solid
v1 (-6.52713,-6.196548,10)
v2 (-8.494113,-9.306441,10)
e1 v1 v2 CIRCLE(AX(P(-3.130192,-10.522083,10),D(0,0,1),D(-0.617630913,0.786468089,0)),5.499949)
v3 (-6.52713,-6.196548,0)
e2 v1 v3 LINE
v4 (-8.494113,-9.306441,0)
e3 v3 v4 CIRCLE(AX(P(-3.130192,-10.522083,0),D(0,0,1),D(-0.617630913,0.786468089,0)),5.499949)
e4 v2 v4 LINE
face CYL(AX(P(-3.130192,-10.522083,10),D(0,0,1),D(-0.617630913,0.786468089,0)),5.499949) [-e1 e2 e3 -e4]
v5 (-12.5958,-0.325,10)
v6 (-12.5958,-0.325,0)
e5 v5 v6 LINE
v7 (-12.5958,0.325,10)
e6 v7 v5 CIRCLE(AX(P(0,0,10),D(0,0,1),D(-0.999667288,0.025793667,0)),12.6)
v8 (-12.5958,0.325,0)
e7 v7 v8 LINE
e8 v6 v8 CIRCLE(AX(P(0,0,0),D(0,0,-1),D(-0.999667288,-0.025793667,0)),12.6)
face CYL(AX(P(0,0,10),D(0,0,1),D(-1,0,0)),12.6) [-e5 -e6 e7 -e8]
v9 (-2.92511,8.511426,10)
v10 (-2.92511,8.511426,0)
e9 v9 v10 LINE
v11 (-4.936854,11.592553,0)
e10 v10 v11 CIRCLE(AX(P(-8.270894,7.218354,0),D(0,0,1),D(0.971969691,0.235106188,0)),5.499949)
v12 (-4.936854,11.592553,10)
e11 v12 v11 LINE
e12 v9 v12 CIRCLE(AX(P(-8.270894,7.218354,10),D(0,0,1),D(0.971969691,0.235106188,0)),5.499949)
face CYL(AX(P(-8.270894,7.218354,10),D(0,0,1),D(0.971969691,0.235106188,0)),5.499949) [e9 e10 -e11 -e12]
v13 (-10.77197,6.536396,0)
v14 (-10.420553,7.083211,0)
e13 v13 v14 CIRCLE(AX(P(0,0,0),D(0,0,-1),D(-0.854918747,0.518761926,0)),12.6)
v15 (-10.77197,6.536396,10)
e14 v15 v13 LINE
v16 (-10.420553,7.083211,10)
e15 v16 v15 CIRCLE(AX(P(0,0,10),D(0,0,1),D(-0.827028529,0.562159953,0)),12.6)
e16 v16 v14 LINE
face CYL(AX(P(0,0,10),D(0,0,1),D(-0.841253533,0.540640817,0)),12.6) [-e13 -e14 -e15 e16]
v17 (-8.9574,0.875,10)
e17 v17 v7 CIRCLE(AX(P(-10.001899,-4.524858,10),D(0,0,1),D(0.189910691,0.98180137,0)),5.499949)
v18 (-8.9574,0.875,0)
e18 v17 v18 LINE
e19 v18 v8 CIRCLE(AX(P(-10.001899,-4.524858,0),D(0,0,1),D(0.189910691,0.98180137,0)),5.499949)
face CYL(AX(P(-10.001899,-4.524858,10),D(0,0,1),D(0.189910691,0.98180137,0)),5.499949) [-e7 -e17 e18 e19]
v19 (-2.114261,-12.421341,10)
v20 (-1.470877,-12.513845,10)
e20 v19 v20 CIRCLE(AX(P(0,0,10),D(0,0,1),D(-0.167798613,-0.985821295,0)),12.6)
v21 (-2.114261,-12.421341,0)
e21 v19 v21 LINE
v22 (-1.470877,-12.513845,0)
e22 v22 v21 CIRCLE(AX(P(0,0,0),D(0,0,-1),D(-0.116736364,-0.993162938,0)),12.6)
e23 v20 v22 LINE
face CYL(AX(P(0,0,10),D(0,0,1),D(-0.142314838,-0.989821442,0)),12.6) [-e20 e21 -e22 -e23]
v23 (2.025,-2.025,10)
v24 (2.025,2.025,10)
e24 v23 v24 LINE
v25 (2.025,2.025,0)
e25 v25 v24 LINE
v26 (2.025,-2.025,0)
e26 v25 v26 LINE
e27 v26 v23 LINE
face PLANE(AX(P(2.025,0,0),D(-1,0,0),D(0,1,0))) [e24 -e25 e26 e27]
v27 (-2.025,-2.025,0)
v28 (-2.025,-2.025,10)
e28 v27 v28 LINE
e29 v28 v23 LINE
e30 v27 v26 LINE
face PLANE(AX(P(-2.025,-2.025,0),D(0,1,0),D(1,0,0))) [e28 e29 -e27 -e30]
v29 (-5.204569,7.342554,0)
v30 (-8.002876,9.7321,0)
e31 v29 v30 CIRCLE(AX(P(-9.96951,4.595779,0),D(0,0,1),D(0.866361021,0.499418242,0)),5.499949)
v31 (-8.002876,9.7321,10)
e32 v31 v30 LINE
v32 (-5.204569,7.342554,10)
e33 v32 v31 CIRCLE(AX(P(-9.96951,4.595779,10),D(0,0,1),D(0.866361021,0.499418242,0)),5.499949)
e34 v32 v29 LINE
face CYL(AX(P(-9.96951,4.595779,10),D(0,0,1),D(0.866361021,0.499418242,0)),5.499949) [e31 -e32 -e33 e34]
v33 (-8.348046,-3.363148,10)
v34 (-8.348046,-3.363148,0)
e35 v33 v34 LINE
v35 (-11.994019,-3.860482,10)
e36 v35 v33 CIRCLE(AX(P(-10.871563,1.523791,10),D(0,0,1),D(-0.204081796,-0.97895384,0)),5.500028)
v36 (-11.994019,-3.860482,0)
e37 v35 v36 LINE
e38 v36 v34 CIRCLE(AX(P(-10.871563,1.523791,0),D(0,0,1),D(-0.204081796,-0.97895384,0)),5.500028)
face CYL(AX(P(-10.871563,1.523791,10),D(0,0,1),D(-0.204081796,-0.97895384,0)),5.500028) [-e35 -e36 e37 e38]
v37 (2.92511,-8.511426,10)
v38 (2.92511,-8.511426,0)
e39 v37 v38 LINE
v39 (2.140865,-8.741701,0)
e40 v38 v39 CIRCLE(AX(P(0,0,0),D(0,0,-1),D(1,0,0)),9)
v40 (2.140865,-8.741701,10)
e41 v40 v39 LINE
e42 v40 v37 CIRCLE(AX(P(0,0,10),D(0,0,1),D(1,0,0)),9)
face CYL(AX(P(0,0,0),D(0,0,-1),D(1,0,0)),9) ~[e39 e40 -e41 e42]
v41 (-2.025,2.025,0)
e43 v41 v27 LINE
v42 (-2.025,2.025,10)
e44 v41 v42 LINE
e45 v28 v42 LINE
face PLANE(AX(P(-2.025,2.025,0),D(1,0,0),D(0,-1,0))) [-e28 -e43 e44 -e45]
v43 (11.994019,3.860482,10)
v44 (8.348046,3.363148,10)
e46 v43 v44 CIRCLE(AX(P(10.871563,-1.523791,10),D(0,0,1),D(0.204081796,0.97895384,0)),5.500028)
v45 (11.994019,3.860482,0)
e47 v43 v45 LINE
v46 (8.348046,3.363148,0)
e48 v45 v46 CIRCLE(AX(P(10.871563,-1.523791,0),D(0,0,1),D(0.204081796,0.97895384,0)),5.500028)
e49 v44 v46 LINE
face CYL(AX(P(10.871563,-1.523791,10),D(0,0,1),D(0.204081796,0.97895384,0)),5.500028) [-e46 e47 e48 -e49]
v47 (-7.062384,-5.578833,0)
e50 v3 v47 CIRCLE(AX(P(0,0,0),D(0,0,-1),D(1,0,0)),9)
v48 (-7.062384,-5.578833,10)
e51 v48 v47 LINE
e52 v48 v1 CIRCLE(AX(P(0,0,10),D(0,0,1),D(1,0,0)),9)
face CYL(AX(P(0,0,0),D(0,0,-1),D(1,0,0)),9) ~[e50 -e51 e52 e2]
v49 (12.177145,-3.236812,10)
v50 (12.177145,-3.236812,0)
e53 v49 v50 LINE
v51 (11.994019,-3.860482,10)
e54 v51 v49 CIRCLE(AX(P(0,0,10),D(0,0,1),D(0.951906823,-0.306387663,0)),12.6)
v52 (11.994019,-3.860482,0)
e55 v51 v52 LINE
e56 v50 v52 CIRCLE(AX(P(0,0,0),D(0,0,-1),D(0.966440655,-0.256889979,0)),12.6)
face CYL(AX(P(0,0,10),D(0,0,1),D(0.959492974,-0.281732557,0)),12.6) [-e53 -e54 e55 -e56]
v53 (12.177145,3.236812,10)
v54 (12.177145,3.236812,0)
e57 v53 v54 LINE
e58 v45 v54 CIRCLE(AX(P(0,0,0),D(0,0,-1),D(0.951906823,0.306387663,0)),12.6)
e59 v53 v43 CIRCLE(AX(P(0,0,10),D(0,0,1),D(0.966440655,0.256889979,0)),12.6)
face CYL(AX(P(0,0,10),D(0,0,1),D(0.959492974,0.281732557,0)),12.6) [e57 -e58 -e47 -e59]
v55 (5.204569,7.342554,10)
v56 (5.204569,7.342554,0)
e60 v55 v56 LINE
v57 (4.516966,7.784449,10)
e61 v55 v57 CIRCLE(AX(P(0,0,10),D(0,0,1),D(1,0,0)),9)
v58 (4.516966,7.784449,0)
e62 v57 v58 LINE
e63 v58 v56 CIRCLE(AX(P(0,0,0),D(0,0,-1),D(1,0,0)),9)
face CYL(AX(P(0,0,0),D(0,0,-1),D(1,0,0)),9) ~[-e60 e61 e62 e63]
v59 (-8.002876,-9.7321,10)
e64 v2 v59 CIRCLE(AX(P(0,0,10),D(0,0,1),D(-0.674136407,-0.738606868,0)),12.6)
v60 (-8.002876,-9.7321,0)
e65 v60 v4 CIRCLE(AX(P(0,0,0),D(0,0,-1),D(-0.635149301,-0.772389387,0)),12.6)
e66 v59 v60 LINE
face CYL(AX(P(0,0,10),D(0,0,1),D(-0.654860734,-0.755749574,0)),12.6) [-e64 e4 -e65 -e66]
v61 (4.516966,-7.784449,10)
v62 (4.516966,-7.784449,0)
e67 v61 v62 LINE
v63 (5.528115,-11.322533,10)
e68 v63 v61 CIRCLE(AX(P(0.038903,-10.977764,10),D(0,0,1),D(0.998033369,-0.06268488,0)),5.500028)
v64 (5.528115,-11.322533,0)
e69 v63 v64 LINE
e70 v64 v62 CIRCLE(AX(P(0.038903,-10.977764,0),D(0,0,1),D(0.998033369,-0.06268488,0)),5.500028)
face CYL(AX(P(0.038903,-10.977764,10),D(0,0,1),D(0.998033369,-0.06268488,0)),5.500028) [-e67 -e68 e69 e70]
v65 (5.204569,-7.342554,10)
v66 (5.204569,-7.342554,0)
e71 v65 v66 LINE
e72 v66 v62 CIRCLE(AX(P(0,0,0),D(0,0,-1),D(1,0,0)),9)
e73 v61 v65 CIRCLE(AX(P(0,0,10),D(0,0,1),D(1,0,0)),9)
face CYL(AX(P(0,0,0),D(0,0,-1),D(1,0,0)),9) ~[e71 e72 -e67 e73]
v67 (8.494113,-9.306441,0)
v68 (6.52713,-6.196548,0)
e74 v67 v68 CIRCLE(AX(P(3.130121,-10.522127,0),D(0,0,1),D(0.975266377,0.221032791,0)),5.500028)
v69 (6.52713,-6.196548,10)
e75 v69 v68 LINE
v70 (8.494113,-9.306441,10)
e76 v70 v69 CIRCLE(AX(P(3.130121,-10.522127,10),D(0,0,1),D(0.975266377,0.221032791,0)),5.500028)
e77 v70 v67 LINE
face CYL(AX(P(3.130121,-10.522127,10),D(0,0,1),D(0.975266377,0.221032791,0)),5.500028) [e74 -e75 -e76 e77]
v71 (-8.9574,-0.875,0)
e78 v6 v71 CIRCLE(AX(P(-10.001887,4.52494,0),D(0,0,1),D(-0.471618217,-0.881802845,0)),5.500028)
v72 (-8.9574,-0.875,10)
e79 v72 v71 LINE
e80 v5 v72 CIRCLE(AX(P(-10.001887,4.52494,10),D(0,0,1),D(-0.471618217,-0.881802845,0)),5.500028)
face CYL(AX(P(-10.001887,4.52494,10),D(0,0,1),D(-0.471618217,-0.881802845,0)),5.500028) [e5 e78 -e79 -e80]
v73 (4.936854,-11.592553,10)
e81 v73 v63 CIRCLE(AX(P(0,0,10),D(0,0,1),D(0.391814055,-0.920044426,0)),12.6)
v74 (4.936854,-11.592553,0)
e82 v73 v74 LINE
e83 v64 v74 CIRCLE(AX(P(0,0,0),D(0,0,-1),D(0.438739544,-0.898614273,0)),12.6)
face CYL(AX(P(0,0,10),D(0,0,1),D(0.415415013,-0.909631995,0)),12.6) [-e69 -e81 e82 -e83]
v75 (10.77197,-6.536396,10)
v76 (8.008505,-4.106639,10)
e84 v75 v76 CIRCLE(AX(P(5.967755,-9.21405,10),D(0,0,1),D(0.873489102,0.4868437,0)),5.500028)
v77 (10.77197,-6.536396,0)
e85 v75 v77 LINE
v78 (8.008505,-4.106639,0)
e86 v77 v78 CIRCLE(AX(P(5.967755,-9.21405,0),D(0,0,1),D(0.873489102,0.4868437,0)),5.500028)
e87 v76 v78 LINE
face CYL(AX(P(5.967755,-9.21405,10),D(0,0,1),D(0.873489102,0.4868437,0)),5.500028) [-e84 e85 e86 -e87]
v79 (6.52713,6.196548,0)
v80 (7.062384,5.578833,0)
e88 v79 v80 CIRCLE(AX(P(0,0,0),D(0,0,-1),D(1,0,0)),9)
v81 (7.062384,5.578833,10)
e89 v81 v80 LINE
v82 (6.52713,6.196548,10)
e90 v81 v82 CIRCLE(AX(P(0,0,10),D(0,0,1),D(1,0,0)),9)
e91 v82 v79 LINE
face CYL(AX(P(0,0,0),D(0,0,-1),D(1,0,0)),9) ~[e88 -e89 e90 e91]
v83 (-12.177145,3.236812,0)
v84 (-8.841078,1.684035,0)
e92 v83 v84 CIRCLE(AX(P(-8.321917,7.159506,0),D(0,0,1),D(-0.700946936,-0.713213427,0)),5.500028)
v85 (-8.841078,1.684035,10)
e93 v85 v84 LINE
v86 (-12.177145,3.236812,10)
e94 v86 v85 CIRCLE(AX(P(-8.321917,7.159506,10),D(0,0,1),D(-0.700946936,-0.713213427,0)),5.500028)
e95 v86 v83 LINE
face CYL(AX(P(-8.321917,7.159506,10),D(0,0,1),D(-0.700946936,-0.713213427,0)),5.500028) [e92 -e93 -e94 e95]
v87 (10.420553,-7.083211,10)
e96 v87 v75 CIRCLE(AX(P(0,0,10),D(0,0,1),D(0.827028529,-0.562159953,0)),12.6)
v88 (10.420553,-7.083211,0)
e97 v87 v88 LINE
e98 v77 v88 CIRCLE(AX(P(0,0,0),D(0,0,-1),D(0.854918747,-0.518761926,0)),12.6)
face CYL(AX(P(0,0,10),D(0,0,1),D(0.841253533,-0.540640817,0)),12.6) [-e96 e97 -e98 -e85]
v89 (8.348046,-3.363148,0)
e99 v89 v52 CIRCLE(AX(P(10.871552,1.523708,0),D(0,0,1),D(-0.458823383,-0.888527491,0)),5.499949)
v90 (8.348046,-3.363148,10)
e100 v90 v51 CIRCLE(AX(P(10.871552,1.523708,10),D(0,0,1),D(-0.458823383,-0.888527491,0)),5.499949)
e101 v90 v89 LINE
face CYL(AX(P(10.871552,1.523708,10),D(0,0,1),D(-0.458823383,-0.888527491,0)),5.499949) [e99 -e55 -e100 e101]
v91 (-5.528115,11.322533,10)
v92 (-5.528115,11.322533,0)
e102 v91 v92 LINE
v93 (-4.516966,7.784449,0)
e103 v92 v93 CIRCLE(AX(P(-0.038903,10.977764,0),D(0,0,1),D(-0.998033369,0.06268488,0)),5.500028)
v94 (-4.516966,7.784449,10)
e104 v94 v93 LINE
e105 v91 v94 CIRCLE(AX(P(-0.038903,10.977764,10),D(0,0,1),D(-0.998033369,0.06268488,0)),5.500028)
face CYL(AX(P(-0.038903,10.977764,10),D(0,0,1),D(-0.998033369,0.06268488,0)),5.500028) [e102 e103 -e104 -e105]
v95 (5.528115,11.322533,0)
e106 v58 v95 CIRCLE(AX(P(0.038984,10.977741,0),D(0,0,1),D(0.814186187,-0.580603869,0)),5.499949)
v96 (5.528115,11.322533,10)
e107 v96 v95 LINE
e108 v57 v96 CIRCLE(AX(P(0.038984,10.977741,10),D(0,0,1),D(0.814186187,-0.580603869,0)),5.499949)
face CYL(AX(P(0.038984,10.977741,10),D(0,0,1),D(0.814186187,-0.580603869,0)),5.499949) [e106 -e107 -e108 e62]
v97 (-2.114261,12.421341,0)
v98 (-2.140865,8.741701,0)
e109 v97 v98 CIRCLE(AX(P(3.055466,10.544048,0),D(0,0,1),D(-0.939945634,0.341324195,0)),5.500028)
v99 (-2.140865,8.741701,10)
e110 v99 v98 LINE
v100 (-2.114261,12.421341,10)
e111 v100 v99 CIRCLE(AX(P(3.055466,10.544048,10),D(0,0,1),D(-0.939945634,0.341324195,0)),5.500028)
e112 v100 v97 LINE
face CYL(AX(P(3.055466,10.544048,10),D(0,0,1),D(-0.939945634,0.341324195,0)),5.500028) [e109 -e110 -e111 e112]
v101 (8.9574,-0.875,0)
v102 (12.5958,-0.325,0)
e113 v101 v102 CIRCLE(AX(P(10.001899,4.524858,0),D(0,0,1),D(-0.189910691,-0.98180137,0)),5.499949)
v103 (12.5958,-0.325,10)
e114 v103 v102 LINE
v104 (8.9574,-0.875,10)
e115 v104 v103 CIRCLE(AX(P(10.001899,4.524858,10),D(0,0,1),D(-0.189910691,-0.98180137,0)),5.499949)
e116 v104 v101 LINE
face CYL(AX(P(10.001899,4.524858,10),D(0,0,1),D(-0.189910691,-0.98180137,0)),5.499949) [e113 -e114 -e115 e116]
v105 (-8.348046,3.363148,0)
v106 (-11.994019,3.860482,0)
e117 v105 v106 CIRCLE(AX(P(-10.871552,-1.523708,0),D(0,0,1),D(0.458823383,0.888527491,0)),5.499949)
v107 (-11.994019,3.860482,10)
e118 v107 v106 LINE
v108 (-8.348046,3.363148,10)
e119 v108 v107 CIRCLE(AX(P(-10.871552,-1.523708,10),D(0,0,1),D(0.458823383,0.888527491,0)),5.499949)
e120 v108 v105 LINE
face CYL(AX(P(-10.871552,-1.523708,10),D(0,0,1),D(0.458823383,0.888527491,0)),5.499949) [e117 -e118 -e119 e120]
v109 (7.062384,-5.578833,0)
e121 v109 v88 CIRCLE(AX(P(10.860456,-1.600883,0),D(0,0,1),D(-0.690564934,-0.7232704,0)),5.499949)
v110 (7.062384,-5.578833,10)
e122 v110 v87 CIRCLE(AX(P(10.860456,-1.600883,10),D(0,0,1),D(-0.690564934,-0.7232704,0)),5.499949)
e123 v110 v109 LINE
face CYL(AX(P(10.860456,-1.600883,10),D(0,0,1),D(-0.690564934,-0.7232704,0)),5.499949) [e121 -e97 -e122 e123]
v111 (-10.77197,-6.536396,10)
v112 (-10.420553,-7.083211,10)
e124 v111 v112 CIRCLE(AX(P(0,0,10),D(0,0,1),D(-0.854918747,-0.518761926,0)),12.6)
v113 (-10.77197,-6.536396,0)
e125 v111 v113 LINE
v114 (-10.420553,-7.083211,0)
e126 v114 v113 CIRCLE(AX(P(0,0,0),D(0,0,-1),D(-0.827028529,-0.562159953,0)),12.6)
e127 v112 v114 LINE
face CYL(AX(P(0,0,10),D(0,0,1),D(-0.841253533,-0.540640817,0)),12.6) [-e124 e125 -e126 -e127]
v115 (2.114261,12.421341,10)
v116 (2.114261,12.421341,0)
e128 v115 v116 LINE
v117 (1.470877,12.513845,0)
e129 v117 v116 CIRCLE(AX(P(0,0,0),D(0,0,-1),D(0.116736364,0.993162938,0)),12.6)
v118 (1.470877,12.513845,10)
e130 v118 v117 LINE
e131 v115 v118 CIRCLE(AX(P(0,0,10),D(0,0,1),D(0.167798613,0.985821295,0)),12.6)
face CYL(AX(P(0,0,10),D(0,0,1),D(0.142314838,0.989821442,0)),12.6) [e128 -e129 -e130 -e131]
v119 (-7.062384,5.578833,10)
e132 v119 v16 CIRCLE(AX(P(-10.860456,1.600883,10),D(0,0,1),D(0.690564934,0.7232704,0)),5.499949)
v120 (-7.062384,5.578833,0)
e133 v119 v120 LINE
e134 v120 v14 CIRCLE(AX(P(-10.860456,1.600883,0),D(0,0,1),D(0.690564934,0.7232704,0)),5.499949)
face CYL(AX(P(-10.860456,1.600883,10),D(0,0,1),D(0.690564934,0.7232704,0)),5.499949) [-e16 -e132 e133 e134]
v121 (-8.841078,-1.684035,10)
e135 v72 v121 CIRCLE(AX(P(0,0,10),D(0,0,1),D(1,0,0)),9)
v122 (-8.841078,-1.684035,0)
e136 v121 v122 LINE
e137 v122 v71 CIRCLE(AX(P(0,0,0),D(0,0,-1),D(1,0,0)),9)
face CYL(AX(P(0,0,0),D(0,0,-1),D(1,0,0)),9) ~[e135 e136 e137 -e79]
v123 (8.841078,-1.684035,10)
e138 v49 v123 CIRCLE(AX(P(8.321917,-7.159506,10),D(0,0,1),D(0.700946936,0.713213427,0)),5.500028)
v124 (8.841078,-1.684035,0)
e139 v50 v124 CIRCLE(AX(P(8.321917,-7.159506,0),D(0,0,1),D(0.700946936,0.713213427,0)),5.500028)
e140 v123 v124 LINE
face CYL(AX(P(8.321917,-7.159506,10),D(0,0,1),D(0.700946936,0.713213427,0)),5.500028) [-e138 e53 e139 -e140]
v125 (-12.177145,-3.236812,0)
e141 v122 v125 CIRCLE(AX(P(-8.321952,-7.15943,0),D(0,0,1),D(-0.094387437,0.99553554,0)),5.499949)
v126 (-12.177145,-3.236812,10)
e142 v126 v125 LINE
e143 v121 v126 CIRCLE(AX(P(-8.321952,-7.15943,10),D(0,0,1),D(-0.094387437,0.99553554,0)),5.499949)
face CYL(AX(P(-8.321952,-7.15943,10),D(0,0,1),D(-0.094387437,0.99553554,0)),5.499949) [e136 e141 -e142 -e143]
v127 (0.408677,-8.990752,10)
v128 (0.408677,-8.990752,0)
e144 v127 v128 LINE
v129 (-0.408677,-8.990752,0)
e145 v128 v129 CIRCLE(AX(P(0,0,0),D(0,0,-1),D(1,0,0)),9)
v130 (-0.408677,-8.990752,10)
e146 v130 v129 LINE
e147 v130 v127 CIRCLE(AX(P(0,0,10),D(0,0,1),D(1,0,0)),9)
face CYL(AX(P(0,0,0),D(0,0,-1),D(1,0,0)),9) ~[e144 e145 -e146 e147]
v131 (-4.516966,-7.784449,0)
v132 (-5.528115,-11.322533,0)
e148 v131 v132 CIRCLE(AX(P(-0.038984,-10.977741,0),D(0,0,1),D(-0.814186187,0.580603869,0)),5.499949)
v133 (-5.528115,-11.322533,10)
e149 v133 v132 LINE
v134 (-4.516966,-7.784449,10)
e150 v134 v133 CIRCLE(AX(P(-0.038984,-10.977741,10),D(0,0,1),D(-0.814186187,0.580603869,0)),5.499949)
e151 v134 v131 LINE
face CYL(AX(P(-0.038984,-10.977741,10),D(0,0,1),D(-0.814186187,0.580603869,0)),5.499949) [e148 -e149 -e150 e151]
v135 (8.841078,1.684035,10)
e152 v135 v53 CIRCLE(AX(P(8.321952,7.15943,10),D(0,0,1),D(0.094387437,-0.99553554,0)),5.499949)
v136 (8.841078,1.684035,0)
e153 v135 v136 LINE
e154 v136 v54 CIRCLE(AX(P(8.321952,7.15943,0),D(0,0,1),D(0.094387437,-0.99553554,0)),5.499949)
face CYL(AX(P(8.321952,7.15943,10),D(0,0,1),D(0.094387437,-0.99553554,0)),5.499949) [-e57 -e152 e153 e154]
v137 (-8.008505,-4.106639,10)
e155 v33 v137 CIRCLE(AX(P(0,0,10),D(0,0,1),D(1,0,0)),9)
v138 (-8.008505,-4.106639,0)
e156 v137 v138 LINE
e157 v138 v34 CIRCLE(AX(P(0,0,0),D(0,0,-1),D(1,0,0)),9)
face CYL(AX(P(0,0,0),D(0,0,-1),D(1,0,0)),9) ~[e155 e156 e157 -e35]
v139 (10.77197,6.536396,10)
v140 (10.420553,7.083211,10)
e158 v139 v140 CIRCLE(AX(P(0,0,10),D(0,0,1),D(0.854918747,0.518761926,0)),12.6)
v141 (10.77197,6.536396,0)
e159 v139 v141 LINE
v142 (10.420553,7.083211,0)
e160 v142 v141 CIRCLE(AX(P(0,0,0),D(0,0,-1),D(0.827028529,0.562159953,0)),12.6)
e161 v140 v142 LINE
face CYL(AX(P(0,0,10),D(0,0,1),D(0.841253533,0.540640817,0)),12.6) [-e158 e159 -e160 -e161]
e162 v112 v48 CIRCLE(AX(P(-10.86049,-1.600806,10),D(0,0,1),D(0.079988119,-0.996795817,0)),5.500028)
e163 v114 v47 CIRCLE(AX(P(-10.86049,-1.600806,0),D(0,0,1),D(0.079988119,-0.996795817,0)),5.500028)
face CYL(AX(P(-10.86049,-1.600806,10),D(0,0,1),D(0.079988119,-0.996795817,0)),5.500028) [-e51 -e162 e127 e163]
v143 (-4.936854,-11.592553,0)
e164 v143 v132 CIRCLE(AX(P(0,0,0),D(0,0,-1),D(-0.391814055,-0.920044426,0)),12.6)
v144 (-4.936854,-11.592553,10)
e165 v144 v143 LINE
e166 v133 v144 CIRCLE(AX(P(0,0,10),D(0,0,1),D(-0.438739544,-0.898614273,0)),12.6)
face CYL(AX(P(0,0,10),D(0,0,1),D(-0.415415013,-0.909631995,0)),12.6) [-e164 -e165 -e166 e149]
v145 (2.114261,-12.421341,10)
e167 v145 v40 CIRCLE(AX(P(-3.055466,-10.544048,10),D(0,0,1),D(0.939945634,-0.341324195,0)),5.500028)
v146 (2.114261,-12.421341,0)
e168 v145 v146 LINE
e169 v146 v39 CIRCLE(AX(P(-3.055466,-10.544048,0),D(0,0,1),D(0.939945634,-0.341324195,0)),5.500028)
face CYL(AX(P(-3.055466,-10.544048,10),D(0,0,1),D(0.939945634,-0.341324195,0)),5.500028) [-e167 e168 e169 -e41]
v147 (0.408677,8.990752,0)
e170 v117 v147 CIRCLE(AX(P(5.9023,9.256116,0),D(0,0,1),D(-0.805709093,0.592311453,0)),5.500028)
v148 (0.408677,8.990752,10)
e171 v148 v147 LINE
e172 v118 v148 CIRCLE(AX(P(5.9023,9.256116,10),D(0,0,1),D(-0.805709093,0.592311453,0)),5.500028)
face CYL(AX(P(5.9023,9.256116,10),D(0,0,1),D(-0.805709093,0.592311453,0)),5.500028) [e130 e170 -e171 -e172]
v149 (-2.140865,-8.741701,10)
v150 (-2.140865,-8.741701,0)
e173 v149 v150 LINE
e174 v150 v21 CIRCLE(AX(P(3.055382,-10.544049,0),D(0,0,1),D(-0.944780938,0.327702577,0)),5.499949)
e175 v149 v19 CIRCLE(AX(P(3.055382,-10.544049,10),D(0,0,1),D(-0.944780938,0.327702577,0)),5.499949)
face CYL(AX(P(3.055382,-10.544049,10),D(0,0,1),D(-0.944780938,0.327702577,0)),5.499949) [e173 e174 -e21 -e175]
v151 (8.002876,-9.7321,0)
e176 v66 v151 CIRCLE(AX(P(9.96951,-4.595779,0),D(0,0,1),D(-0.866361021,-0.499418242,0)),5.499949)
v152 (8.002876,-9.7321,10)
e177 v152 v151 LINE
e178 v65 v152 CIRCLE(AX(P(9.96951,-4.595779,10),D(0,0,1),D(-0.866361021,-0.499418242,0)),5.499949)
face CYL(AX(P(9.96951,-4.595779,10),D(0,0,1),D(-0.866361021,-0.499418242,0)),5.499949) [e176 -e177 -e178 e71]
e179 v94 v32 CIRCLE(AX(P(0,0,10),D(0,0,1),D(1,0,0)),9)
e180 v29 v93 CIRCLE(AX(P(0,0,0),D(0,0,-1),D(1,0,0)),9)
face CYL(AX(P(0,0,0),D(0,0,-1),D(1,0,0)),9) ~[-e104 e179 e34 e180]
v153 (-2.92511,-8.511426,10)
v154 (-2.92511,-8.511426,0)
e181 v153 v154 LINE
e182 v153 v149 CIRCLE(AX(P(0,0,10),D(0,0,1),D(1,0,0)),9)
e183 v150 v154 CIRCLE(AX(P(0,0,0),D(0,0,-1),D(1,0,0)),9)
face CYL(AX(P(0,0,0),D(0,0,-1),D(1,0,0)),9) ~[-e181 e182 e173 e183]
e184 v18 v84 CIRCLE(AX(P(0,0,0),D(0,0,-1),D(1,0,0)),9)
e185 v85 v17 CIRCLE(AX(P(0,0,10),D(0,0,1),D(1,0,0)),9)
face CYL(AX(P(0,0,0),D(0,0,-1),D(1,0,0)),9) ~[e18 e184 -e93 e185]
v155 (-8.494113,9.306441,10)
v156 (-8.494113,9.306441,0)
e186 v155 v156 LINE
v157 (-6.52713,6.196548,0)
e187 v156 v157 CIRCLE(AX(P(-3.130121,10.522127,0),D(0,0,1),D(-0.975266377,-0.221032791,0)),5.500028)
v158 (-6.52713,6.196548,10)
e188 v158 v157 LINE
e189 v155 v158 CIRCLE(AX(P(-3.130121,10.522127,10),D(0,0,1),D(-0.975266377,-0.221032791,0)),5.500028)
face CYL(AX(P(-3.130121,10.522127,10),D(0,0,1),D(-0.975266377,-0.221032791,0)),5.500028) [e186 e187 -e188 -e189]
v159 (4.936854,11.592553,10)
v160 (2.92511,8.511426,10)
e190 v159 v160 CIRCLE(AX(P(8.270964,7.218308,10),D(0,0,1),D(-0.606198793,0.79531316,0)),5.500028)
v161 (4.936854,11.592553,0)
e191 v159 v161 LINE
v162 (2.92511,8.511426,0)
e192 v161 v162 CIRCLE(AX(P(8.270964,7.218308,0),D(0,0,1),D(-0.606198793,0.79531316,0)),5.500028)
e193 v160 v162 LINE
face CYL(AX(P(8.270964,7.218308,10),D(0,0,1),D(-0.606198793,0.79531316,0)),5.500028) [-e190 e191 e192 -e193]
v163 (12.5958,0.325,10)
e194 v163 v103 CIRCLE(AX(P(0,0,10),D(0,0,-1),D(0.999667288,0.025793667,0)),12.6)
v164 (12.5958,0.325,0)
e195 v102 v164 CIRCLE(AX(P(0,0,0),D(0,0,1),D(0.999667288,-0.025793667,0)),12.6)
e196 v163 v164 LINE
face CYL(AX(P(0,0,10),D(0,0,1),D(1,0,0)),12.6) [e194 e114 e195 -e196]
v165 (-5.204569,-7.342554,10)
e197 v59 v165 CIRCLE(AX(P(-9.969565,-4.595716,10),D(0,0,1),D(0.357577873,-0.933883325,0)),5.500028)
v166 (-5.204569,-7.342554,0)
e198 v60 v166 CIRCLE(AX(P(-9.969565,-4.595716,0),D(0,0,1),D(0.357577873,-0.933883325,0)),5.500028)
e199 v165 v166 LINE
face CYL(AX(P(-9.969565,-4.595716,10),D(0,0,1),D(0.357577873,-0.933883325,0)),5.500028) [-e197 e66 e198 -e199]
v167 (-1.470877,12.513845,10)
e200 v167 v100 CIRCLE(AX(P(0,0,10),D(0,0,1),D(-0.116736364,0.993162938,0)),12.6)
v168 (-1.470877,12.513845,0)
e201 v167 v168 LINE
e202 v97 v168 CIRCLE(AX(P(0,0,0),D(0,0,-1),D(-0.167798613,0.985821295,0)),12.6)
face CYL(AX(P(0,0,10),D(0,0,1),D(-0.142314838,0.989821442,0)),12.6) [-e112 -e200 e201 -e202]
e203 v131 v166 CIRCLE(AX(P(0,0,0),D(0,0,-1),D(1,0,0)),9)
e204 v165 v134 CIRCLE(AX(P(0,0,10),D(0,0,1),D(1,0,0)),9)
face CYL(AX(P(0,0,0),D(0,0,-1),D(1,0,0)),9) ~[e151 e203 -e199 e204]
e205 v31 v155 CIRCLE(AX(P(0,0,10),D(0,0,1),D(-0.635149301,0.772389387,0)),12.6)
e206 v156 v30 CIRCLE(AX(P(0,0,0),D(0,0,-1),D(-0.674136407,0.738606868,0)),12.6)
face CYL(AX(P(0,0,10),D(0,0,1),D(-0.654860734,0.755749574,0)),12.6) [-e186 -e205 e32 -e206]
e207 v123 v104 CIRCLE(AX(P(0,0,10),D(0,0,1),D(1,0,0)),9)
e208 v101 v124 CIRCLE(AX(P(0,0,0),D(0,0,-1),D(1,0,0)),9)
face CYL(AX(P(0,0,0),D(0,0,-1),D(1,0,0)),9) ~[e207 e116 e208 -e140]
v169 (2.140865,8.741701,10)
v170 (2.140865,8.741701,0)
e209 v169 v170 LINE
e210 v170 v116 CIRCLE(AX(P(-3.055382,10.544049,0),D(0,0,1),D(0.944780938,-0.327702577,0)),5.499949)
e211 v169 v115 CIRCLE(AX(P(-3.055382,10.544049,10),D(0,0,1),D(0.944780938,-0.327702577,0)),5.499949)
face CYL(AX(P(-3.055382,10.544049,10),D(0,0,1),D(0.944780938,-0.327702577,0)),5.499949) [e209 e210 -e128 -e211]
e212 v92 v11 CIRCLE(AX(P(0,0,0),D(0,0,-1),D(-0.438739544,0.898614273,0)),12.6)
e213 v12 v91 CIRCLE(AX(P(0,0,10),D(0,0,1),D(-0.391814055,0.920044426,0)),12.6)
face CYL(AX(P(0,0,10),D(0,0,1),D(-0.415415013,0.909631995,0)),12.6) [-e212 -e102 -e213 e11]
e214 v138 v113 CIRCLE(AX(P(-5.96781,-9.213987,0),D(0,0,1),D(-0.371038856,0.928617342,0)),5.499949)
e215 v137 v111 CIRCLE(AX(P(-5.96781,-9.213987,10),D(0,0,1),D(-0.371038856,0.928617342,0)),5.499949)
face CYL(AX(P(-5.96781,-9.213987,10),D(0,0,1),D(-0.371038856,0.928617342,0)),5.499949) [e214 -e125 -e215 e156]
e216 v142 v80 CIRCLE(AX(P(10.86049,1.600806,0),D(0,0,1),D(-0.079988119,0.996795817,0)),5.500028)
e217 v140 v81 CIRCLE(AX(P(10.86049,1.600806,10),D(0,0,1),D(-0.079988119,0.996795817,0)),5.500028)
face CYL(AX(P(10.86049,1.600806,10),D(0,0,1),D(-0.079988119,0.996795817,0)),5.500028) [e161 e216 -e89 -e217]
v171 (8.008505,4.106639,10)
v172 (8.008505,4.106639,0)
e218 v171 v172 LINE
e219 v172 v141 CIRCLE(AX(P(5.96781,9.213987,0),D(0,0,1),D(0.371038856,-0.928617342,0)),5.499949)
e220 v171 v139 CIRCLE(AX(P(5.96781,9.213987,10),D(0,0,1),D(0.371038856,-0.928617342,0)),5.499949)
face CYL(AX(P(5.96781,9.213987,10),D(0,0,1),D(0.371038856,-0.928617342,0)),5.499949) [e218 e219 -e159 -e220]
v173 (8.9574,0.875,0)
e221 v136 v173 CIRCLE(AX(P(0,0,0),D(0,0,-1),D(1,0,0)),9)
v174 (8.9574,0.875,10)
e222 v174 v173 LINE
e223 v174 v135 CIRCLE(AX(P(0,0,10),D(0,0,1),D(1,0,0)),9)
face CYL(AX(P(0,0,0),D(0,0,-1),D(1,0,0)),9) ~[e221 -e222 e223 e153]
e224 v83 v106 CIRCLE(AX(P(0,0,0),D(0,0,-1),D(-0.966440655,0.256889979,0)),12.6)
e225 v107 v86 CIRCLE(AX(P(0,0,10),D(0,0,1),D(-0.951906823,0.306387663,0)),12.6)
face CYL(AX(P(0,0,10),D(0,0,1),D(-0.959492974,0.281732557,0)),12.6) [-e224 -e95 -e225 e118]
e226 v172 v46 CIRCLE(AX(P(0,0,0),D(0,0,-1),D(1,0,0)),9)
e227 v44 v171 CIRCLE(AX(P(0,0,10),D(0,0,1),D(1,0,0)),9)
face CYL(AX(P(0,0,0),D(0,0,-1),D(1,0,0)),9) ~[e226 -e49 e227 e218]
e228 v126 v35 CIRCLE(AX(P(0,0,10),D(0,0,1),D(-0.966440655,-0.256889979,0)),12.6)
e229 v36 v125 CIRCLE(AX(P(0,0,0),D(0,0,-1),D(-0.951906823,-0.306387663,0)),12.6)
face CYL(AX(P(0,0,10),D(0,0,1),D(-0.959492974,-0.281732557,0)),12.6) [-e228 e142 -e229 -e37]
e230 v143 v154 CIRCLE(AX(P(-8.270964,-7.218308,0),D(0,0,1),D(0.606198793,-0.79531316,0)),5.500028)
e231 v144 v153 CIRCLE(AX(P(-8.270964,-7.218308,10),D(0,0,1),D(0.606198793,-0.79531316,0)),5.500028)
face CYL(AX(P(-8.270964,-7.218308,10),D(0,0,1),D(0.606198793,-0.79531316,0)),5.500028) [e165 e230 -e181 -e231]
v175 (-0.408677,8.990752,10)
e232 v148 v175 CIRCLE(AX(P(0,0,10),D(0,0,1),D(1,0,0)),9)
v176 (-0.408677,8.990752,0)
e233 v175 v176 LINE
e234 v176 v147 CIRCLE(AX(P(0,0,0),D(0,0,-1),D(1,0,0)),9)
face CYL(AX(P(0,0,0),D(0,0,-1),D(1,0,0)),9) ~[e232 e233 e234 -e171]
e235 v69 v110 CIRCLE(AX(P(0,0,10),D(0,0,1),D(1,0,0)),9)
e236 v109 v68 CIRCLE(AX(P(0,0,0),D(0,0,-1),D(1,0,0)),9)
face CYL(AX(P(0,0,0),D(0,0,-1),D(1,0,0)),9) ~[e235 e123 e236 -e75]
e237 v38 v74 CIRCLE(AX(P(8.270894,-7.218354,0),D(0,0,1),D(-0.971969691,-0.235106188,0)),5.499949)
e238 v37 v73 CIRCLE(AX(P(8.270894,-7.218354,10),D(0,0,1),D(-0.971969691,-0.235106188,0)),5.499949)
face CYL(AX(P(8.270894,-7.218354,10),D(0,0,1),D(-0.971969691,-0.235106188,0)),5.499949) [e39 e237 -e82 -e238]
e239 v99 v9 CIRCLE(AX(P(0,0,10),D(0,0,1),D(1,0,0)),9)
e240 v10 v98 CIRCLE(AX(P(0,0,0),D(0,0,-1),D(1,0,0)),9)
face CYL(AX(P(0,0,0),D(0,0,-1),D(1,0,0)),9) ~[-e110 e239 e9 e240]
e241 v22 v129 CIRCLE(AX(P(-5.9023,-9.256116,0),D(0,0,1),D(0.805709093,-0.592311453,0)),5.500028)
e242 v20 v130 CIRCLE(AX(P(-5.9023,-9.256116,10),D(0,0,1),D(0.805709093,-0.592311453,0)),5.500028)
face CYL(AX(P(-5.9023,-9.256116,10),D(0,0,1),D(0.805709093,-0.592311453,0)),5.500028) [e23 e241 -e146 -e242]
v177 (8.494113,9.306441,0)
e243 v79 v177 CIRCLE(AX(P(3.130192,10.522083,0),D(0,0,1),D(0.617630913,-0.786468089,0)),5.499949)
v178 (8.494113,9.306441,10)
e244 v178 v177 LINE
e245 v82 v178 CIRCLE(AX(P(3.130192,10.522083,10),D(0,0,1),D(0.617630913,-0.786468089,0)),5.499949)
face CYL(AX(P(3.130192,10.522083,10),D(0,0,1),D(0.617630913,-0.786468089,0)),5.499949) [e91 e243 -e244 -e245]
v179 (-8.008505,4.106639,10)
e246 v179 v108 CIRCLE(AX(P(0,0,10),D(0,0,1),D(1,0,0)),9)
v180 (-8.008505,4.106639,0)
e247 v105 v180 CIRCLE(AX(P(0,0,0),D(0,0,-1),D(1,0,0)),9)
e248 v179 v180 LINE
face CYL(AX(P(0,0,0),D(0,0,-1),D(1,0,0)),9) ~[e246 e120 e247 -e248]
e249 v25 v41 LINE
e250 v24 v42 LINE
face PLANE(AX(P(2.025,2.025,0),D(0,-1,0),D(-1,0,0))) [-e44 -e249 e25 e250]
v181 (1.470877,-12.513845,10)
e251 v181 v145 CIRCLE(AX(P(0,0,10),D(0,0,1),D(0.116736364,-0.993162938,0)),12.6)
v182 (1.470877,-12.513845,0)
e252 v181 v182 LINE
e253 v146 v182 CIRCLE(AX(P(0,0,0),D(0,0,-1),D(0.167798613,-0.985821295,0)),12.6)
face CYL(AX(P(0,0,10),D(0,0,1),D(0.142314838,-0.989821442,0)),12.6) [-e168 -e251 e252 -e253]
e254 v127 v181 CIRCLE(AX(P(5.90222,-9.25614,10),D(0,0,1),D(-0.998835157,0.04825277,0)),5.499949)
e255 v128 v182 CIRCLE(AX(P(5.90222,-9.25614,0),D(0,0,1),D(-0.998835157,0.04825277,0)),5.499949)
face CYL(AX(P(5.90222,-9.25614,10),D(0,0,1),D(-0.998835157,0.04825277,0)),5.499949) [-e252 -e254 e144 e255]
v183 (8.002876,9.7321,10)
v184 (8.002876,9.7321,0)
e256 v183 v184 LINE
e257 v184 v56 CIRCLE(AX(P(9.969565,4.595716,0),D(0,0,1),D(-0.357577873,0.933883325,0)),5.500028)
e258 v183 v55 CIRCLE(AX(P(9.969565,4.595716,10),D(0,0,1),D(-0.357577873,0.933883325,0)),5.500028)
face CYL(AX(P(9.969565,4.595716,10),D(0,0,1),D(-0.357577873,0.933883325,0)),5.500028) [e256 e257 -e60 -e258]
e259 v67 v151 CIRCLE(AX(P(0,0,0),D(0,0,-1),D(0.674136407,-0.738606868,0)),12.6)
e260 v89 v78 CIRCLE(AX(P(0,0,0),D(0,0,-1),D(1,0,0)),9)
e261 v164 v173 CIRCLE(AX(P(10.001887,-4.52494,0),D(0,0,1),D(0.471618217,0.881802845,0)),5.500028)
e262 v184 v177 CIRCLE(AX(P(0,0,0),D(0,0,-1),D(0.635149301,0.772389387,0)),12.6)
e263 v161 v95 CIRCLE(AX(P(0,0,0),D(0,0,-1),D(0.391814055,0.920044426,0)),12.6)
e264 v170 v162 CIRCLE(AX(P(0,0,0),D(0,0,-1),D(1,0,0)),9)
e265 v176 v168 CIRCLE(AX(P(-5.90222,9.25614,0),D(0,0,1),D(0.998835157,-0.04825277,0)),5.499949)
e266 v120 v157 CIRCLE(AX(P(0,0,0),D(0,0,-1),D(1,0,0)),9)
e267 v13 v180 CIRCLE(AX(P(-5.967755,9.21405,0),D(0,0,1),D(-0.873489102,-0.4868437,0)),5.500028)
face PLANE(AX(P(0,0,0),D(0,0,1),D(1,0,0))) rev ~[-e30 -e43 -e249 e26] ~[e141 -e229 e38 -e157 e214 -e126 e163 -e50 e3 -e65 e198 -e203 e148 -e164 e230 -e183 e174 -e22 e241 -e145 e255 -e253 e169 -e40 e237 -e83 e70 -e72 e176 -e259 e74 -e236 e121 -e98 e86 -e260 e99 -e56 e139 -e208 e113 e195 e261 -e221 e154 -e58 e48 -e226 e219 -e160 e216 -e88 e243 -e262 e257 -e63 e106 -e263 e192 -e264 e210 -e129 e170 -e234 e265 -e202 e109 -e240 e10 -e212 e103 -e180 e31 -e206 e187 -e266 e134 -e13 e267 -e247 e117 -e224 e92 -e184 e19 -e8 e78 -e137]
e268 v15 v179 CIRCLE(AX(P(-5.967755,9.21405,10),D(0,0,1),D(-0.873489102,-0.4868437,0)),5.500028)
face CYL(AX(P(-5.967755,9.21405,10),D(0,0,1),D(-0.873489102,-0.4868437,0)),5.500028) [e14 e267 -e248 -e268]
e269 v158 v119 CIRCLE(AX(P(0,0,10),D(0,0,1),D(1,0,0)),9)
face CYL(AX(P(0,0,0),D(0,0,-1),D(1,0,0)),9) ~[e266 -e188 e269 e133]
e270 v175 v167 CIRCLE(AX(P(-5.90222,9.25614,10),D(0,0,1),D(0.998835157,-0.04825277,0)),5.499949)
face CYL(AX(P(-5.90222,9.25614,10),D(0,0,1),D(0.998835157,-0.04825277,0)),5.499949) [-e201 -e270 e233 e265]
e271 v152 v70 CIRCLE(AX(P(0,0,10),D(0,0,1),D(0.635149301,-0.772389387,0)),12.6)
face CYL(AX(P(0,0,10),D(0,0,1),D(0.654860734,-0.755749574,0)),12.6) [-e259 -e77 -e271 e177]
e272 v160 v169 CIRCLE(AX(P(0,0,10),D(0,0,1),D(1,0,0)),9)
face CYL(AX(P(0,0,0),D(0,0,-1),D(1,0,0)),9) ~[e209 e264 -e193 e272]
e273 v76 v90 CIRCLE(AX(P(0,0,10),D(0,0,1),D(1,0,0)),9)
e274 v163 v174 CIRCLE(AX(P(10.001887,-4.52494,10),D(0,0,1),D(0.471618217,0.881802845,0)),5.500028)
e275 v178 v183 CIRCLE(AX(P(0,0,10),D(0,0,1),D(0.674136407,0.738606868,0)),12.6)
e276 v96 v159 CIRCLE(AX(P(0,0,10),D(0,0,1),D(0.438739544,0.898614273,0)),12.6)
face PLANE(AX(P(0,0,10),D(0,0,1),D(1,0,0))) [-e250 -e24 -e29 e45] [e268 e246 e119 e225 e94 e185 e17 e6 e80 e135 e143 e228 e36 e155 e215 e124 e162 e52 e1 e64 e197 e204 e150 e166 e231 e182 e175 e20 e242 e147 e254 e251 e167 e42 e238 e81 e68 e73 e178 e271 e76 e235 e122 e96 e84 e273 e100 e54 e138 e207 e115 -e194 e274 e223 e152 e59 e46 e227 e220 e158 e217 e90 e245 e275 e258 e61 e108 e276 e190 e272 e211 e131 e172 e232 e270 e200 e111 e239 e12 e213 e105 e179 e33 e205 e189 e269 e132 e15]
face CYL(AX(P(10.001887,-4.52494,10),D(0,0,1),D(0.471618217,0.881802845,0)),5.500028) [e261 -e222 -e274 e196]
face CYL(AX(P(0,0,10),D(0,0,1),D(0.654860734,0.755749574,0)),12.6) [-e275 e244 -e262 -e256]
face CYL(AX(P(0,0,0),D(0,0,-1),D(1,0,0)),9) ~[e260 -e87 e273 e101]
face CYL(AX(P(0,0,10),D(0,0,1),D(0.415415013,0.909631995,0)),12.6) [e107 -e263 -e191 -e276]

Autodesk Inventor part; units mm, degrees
ref_plane "YZ Plane" through (0, 0, 0) normal (1, 0, 0) x (0, 1, 0)
ref_plane "XZ Plane" through (0, 0, 0) normal (0, 1, 0) x (-1, 0, 0)
ref_plane "XY Plane" through (0, 0, 0) normal (0, 0, 1) x (1, 0, 0)
sketch "Sketch1" plane through (0, 0, 0) normal (0, 0, 1) x (1, 0, 0)
  circle A0 centre (0, 0) radius 12.5
  circle A1 centre (0, 0) radius 9
  line L0 (-12.5, 0) -> (12.5, 0)
  line L1 (-2.025, -2.025) -> (2.025, -2.025)
  line L2 (2.025, -2.025) -> (2.025, 2.025)
  line L3 (2.025, 2.025) -> (-2.025, 2.025)
  line L4 (-2.025, 2.025) -> (-2.025, -2.025)
  line L5 (-2.025, -2.025) -> (2.025, 2.025) construction
  line L6 (2.025, -2.025) -> (-2.025, 2.025) construction
  dimension "d0" = 25
  dimension "d1" = 18
  dimension "d7" = 4.05
extrude "Extrusion1" add sketch "Sketch1" along normal blind 10 contours L0 L2 L3 L4 A1 | A1 L0 L4 L1 L2
sketch "Sketch2" plane through (0, 0, 10) normal (0, 0, 1) x (1, 0, 0)
  line L0 (0, 0) -> (9, 0)
  circle A0 centre (0, 0) radius 9 projected
  circle A1 centre (0, 0) radius 12.6
  arc A2 (12.5958, 0.325) -> (8.9574, 0.875) centre (10.0019, -4.5249) ccw
  arc A3 (8.9574, -0.875) -> (12.5958, -0.325) centre (10.0019, 4.5249) ccw
  point P0 (8.9574, -0.875)
  point P1 (12.5958, -0.325)
  dimension "d17" = 25.2
  dimension "d26" = 0.65
  dimension "d27" = 1.75
  dimension "d28" = 5.5
extrude "Extrusion2" add sketch "Sketch2" against normal blind 10 contours A0 A2 A1 A3 picked at (10.613, 0.2616)
pattern_circular "Circular Pattern1" count 22 over 360 about axis through (0, 0, -10) along (0, 0, 1) of "Extrusion2"
properties part number "Pinion Gear FV"
